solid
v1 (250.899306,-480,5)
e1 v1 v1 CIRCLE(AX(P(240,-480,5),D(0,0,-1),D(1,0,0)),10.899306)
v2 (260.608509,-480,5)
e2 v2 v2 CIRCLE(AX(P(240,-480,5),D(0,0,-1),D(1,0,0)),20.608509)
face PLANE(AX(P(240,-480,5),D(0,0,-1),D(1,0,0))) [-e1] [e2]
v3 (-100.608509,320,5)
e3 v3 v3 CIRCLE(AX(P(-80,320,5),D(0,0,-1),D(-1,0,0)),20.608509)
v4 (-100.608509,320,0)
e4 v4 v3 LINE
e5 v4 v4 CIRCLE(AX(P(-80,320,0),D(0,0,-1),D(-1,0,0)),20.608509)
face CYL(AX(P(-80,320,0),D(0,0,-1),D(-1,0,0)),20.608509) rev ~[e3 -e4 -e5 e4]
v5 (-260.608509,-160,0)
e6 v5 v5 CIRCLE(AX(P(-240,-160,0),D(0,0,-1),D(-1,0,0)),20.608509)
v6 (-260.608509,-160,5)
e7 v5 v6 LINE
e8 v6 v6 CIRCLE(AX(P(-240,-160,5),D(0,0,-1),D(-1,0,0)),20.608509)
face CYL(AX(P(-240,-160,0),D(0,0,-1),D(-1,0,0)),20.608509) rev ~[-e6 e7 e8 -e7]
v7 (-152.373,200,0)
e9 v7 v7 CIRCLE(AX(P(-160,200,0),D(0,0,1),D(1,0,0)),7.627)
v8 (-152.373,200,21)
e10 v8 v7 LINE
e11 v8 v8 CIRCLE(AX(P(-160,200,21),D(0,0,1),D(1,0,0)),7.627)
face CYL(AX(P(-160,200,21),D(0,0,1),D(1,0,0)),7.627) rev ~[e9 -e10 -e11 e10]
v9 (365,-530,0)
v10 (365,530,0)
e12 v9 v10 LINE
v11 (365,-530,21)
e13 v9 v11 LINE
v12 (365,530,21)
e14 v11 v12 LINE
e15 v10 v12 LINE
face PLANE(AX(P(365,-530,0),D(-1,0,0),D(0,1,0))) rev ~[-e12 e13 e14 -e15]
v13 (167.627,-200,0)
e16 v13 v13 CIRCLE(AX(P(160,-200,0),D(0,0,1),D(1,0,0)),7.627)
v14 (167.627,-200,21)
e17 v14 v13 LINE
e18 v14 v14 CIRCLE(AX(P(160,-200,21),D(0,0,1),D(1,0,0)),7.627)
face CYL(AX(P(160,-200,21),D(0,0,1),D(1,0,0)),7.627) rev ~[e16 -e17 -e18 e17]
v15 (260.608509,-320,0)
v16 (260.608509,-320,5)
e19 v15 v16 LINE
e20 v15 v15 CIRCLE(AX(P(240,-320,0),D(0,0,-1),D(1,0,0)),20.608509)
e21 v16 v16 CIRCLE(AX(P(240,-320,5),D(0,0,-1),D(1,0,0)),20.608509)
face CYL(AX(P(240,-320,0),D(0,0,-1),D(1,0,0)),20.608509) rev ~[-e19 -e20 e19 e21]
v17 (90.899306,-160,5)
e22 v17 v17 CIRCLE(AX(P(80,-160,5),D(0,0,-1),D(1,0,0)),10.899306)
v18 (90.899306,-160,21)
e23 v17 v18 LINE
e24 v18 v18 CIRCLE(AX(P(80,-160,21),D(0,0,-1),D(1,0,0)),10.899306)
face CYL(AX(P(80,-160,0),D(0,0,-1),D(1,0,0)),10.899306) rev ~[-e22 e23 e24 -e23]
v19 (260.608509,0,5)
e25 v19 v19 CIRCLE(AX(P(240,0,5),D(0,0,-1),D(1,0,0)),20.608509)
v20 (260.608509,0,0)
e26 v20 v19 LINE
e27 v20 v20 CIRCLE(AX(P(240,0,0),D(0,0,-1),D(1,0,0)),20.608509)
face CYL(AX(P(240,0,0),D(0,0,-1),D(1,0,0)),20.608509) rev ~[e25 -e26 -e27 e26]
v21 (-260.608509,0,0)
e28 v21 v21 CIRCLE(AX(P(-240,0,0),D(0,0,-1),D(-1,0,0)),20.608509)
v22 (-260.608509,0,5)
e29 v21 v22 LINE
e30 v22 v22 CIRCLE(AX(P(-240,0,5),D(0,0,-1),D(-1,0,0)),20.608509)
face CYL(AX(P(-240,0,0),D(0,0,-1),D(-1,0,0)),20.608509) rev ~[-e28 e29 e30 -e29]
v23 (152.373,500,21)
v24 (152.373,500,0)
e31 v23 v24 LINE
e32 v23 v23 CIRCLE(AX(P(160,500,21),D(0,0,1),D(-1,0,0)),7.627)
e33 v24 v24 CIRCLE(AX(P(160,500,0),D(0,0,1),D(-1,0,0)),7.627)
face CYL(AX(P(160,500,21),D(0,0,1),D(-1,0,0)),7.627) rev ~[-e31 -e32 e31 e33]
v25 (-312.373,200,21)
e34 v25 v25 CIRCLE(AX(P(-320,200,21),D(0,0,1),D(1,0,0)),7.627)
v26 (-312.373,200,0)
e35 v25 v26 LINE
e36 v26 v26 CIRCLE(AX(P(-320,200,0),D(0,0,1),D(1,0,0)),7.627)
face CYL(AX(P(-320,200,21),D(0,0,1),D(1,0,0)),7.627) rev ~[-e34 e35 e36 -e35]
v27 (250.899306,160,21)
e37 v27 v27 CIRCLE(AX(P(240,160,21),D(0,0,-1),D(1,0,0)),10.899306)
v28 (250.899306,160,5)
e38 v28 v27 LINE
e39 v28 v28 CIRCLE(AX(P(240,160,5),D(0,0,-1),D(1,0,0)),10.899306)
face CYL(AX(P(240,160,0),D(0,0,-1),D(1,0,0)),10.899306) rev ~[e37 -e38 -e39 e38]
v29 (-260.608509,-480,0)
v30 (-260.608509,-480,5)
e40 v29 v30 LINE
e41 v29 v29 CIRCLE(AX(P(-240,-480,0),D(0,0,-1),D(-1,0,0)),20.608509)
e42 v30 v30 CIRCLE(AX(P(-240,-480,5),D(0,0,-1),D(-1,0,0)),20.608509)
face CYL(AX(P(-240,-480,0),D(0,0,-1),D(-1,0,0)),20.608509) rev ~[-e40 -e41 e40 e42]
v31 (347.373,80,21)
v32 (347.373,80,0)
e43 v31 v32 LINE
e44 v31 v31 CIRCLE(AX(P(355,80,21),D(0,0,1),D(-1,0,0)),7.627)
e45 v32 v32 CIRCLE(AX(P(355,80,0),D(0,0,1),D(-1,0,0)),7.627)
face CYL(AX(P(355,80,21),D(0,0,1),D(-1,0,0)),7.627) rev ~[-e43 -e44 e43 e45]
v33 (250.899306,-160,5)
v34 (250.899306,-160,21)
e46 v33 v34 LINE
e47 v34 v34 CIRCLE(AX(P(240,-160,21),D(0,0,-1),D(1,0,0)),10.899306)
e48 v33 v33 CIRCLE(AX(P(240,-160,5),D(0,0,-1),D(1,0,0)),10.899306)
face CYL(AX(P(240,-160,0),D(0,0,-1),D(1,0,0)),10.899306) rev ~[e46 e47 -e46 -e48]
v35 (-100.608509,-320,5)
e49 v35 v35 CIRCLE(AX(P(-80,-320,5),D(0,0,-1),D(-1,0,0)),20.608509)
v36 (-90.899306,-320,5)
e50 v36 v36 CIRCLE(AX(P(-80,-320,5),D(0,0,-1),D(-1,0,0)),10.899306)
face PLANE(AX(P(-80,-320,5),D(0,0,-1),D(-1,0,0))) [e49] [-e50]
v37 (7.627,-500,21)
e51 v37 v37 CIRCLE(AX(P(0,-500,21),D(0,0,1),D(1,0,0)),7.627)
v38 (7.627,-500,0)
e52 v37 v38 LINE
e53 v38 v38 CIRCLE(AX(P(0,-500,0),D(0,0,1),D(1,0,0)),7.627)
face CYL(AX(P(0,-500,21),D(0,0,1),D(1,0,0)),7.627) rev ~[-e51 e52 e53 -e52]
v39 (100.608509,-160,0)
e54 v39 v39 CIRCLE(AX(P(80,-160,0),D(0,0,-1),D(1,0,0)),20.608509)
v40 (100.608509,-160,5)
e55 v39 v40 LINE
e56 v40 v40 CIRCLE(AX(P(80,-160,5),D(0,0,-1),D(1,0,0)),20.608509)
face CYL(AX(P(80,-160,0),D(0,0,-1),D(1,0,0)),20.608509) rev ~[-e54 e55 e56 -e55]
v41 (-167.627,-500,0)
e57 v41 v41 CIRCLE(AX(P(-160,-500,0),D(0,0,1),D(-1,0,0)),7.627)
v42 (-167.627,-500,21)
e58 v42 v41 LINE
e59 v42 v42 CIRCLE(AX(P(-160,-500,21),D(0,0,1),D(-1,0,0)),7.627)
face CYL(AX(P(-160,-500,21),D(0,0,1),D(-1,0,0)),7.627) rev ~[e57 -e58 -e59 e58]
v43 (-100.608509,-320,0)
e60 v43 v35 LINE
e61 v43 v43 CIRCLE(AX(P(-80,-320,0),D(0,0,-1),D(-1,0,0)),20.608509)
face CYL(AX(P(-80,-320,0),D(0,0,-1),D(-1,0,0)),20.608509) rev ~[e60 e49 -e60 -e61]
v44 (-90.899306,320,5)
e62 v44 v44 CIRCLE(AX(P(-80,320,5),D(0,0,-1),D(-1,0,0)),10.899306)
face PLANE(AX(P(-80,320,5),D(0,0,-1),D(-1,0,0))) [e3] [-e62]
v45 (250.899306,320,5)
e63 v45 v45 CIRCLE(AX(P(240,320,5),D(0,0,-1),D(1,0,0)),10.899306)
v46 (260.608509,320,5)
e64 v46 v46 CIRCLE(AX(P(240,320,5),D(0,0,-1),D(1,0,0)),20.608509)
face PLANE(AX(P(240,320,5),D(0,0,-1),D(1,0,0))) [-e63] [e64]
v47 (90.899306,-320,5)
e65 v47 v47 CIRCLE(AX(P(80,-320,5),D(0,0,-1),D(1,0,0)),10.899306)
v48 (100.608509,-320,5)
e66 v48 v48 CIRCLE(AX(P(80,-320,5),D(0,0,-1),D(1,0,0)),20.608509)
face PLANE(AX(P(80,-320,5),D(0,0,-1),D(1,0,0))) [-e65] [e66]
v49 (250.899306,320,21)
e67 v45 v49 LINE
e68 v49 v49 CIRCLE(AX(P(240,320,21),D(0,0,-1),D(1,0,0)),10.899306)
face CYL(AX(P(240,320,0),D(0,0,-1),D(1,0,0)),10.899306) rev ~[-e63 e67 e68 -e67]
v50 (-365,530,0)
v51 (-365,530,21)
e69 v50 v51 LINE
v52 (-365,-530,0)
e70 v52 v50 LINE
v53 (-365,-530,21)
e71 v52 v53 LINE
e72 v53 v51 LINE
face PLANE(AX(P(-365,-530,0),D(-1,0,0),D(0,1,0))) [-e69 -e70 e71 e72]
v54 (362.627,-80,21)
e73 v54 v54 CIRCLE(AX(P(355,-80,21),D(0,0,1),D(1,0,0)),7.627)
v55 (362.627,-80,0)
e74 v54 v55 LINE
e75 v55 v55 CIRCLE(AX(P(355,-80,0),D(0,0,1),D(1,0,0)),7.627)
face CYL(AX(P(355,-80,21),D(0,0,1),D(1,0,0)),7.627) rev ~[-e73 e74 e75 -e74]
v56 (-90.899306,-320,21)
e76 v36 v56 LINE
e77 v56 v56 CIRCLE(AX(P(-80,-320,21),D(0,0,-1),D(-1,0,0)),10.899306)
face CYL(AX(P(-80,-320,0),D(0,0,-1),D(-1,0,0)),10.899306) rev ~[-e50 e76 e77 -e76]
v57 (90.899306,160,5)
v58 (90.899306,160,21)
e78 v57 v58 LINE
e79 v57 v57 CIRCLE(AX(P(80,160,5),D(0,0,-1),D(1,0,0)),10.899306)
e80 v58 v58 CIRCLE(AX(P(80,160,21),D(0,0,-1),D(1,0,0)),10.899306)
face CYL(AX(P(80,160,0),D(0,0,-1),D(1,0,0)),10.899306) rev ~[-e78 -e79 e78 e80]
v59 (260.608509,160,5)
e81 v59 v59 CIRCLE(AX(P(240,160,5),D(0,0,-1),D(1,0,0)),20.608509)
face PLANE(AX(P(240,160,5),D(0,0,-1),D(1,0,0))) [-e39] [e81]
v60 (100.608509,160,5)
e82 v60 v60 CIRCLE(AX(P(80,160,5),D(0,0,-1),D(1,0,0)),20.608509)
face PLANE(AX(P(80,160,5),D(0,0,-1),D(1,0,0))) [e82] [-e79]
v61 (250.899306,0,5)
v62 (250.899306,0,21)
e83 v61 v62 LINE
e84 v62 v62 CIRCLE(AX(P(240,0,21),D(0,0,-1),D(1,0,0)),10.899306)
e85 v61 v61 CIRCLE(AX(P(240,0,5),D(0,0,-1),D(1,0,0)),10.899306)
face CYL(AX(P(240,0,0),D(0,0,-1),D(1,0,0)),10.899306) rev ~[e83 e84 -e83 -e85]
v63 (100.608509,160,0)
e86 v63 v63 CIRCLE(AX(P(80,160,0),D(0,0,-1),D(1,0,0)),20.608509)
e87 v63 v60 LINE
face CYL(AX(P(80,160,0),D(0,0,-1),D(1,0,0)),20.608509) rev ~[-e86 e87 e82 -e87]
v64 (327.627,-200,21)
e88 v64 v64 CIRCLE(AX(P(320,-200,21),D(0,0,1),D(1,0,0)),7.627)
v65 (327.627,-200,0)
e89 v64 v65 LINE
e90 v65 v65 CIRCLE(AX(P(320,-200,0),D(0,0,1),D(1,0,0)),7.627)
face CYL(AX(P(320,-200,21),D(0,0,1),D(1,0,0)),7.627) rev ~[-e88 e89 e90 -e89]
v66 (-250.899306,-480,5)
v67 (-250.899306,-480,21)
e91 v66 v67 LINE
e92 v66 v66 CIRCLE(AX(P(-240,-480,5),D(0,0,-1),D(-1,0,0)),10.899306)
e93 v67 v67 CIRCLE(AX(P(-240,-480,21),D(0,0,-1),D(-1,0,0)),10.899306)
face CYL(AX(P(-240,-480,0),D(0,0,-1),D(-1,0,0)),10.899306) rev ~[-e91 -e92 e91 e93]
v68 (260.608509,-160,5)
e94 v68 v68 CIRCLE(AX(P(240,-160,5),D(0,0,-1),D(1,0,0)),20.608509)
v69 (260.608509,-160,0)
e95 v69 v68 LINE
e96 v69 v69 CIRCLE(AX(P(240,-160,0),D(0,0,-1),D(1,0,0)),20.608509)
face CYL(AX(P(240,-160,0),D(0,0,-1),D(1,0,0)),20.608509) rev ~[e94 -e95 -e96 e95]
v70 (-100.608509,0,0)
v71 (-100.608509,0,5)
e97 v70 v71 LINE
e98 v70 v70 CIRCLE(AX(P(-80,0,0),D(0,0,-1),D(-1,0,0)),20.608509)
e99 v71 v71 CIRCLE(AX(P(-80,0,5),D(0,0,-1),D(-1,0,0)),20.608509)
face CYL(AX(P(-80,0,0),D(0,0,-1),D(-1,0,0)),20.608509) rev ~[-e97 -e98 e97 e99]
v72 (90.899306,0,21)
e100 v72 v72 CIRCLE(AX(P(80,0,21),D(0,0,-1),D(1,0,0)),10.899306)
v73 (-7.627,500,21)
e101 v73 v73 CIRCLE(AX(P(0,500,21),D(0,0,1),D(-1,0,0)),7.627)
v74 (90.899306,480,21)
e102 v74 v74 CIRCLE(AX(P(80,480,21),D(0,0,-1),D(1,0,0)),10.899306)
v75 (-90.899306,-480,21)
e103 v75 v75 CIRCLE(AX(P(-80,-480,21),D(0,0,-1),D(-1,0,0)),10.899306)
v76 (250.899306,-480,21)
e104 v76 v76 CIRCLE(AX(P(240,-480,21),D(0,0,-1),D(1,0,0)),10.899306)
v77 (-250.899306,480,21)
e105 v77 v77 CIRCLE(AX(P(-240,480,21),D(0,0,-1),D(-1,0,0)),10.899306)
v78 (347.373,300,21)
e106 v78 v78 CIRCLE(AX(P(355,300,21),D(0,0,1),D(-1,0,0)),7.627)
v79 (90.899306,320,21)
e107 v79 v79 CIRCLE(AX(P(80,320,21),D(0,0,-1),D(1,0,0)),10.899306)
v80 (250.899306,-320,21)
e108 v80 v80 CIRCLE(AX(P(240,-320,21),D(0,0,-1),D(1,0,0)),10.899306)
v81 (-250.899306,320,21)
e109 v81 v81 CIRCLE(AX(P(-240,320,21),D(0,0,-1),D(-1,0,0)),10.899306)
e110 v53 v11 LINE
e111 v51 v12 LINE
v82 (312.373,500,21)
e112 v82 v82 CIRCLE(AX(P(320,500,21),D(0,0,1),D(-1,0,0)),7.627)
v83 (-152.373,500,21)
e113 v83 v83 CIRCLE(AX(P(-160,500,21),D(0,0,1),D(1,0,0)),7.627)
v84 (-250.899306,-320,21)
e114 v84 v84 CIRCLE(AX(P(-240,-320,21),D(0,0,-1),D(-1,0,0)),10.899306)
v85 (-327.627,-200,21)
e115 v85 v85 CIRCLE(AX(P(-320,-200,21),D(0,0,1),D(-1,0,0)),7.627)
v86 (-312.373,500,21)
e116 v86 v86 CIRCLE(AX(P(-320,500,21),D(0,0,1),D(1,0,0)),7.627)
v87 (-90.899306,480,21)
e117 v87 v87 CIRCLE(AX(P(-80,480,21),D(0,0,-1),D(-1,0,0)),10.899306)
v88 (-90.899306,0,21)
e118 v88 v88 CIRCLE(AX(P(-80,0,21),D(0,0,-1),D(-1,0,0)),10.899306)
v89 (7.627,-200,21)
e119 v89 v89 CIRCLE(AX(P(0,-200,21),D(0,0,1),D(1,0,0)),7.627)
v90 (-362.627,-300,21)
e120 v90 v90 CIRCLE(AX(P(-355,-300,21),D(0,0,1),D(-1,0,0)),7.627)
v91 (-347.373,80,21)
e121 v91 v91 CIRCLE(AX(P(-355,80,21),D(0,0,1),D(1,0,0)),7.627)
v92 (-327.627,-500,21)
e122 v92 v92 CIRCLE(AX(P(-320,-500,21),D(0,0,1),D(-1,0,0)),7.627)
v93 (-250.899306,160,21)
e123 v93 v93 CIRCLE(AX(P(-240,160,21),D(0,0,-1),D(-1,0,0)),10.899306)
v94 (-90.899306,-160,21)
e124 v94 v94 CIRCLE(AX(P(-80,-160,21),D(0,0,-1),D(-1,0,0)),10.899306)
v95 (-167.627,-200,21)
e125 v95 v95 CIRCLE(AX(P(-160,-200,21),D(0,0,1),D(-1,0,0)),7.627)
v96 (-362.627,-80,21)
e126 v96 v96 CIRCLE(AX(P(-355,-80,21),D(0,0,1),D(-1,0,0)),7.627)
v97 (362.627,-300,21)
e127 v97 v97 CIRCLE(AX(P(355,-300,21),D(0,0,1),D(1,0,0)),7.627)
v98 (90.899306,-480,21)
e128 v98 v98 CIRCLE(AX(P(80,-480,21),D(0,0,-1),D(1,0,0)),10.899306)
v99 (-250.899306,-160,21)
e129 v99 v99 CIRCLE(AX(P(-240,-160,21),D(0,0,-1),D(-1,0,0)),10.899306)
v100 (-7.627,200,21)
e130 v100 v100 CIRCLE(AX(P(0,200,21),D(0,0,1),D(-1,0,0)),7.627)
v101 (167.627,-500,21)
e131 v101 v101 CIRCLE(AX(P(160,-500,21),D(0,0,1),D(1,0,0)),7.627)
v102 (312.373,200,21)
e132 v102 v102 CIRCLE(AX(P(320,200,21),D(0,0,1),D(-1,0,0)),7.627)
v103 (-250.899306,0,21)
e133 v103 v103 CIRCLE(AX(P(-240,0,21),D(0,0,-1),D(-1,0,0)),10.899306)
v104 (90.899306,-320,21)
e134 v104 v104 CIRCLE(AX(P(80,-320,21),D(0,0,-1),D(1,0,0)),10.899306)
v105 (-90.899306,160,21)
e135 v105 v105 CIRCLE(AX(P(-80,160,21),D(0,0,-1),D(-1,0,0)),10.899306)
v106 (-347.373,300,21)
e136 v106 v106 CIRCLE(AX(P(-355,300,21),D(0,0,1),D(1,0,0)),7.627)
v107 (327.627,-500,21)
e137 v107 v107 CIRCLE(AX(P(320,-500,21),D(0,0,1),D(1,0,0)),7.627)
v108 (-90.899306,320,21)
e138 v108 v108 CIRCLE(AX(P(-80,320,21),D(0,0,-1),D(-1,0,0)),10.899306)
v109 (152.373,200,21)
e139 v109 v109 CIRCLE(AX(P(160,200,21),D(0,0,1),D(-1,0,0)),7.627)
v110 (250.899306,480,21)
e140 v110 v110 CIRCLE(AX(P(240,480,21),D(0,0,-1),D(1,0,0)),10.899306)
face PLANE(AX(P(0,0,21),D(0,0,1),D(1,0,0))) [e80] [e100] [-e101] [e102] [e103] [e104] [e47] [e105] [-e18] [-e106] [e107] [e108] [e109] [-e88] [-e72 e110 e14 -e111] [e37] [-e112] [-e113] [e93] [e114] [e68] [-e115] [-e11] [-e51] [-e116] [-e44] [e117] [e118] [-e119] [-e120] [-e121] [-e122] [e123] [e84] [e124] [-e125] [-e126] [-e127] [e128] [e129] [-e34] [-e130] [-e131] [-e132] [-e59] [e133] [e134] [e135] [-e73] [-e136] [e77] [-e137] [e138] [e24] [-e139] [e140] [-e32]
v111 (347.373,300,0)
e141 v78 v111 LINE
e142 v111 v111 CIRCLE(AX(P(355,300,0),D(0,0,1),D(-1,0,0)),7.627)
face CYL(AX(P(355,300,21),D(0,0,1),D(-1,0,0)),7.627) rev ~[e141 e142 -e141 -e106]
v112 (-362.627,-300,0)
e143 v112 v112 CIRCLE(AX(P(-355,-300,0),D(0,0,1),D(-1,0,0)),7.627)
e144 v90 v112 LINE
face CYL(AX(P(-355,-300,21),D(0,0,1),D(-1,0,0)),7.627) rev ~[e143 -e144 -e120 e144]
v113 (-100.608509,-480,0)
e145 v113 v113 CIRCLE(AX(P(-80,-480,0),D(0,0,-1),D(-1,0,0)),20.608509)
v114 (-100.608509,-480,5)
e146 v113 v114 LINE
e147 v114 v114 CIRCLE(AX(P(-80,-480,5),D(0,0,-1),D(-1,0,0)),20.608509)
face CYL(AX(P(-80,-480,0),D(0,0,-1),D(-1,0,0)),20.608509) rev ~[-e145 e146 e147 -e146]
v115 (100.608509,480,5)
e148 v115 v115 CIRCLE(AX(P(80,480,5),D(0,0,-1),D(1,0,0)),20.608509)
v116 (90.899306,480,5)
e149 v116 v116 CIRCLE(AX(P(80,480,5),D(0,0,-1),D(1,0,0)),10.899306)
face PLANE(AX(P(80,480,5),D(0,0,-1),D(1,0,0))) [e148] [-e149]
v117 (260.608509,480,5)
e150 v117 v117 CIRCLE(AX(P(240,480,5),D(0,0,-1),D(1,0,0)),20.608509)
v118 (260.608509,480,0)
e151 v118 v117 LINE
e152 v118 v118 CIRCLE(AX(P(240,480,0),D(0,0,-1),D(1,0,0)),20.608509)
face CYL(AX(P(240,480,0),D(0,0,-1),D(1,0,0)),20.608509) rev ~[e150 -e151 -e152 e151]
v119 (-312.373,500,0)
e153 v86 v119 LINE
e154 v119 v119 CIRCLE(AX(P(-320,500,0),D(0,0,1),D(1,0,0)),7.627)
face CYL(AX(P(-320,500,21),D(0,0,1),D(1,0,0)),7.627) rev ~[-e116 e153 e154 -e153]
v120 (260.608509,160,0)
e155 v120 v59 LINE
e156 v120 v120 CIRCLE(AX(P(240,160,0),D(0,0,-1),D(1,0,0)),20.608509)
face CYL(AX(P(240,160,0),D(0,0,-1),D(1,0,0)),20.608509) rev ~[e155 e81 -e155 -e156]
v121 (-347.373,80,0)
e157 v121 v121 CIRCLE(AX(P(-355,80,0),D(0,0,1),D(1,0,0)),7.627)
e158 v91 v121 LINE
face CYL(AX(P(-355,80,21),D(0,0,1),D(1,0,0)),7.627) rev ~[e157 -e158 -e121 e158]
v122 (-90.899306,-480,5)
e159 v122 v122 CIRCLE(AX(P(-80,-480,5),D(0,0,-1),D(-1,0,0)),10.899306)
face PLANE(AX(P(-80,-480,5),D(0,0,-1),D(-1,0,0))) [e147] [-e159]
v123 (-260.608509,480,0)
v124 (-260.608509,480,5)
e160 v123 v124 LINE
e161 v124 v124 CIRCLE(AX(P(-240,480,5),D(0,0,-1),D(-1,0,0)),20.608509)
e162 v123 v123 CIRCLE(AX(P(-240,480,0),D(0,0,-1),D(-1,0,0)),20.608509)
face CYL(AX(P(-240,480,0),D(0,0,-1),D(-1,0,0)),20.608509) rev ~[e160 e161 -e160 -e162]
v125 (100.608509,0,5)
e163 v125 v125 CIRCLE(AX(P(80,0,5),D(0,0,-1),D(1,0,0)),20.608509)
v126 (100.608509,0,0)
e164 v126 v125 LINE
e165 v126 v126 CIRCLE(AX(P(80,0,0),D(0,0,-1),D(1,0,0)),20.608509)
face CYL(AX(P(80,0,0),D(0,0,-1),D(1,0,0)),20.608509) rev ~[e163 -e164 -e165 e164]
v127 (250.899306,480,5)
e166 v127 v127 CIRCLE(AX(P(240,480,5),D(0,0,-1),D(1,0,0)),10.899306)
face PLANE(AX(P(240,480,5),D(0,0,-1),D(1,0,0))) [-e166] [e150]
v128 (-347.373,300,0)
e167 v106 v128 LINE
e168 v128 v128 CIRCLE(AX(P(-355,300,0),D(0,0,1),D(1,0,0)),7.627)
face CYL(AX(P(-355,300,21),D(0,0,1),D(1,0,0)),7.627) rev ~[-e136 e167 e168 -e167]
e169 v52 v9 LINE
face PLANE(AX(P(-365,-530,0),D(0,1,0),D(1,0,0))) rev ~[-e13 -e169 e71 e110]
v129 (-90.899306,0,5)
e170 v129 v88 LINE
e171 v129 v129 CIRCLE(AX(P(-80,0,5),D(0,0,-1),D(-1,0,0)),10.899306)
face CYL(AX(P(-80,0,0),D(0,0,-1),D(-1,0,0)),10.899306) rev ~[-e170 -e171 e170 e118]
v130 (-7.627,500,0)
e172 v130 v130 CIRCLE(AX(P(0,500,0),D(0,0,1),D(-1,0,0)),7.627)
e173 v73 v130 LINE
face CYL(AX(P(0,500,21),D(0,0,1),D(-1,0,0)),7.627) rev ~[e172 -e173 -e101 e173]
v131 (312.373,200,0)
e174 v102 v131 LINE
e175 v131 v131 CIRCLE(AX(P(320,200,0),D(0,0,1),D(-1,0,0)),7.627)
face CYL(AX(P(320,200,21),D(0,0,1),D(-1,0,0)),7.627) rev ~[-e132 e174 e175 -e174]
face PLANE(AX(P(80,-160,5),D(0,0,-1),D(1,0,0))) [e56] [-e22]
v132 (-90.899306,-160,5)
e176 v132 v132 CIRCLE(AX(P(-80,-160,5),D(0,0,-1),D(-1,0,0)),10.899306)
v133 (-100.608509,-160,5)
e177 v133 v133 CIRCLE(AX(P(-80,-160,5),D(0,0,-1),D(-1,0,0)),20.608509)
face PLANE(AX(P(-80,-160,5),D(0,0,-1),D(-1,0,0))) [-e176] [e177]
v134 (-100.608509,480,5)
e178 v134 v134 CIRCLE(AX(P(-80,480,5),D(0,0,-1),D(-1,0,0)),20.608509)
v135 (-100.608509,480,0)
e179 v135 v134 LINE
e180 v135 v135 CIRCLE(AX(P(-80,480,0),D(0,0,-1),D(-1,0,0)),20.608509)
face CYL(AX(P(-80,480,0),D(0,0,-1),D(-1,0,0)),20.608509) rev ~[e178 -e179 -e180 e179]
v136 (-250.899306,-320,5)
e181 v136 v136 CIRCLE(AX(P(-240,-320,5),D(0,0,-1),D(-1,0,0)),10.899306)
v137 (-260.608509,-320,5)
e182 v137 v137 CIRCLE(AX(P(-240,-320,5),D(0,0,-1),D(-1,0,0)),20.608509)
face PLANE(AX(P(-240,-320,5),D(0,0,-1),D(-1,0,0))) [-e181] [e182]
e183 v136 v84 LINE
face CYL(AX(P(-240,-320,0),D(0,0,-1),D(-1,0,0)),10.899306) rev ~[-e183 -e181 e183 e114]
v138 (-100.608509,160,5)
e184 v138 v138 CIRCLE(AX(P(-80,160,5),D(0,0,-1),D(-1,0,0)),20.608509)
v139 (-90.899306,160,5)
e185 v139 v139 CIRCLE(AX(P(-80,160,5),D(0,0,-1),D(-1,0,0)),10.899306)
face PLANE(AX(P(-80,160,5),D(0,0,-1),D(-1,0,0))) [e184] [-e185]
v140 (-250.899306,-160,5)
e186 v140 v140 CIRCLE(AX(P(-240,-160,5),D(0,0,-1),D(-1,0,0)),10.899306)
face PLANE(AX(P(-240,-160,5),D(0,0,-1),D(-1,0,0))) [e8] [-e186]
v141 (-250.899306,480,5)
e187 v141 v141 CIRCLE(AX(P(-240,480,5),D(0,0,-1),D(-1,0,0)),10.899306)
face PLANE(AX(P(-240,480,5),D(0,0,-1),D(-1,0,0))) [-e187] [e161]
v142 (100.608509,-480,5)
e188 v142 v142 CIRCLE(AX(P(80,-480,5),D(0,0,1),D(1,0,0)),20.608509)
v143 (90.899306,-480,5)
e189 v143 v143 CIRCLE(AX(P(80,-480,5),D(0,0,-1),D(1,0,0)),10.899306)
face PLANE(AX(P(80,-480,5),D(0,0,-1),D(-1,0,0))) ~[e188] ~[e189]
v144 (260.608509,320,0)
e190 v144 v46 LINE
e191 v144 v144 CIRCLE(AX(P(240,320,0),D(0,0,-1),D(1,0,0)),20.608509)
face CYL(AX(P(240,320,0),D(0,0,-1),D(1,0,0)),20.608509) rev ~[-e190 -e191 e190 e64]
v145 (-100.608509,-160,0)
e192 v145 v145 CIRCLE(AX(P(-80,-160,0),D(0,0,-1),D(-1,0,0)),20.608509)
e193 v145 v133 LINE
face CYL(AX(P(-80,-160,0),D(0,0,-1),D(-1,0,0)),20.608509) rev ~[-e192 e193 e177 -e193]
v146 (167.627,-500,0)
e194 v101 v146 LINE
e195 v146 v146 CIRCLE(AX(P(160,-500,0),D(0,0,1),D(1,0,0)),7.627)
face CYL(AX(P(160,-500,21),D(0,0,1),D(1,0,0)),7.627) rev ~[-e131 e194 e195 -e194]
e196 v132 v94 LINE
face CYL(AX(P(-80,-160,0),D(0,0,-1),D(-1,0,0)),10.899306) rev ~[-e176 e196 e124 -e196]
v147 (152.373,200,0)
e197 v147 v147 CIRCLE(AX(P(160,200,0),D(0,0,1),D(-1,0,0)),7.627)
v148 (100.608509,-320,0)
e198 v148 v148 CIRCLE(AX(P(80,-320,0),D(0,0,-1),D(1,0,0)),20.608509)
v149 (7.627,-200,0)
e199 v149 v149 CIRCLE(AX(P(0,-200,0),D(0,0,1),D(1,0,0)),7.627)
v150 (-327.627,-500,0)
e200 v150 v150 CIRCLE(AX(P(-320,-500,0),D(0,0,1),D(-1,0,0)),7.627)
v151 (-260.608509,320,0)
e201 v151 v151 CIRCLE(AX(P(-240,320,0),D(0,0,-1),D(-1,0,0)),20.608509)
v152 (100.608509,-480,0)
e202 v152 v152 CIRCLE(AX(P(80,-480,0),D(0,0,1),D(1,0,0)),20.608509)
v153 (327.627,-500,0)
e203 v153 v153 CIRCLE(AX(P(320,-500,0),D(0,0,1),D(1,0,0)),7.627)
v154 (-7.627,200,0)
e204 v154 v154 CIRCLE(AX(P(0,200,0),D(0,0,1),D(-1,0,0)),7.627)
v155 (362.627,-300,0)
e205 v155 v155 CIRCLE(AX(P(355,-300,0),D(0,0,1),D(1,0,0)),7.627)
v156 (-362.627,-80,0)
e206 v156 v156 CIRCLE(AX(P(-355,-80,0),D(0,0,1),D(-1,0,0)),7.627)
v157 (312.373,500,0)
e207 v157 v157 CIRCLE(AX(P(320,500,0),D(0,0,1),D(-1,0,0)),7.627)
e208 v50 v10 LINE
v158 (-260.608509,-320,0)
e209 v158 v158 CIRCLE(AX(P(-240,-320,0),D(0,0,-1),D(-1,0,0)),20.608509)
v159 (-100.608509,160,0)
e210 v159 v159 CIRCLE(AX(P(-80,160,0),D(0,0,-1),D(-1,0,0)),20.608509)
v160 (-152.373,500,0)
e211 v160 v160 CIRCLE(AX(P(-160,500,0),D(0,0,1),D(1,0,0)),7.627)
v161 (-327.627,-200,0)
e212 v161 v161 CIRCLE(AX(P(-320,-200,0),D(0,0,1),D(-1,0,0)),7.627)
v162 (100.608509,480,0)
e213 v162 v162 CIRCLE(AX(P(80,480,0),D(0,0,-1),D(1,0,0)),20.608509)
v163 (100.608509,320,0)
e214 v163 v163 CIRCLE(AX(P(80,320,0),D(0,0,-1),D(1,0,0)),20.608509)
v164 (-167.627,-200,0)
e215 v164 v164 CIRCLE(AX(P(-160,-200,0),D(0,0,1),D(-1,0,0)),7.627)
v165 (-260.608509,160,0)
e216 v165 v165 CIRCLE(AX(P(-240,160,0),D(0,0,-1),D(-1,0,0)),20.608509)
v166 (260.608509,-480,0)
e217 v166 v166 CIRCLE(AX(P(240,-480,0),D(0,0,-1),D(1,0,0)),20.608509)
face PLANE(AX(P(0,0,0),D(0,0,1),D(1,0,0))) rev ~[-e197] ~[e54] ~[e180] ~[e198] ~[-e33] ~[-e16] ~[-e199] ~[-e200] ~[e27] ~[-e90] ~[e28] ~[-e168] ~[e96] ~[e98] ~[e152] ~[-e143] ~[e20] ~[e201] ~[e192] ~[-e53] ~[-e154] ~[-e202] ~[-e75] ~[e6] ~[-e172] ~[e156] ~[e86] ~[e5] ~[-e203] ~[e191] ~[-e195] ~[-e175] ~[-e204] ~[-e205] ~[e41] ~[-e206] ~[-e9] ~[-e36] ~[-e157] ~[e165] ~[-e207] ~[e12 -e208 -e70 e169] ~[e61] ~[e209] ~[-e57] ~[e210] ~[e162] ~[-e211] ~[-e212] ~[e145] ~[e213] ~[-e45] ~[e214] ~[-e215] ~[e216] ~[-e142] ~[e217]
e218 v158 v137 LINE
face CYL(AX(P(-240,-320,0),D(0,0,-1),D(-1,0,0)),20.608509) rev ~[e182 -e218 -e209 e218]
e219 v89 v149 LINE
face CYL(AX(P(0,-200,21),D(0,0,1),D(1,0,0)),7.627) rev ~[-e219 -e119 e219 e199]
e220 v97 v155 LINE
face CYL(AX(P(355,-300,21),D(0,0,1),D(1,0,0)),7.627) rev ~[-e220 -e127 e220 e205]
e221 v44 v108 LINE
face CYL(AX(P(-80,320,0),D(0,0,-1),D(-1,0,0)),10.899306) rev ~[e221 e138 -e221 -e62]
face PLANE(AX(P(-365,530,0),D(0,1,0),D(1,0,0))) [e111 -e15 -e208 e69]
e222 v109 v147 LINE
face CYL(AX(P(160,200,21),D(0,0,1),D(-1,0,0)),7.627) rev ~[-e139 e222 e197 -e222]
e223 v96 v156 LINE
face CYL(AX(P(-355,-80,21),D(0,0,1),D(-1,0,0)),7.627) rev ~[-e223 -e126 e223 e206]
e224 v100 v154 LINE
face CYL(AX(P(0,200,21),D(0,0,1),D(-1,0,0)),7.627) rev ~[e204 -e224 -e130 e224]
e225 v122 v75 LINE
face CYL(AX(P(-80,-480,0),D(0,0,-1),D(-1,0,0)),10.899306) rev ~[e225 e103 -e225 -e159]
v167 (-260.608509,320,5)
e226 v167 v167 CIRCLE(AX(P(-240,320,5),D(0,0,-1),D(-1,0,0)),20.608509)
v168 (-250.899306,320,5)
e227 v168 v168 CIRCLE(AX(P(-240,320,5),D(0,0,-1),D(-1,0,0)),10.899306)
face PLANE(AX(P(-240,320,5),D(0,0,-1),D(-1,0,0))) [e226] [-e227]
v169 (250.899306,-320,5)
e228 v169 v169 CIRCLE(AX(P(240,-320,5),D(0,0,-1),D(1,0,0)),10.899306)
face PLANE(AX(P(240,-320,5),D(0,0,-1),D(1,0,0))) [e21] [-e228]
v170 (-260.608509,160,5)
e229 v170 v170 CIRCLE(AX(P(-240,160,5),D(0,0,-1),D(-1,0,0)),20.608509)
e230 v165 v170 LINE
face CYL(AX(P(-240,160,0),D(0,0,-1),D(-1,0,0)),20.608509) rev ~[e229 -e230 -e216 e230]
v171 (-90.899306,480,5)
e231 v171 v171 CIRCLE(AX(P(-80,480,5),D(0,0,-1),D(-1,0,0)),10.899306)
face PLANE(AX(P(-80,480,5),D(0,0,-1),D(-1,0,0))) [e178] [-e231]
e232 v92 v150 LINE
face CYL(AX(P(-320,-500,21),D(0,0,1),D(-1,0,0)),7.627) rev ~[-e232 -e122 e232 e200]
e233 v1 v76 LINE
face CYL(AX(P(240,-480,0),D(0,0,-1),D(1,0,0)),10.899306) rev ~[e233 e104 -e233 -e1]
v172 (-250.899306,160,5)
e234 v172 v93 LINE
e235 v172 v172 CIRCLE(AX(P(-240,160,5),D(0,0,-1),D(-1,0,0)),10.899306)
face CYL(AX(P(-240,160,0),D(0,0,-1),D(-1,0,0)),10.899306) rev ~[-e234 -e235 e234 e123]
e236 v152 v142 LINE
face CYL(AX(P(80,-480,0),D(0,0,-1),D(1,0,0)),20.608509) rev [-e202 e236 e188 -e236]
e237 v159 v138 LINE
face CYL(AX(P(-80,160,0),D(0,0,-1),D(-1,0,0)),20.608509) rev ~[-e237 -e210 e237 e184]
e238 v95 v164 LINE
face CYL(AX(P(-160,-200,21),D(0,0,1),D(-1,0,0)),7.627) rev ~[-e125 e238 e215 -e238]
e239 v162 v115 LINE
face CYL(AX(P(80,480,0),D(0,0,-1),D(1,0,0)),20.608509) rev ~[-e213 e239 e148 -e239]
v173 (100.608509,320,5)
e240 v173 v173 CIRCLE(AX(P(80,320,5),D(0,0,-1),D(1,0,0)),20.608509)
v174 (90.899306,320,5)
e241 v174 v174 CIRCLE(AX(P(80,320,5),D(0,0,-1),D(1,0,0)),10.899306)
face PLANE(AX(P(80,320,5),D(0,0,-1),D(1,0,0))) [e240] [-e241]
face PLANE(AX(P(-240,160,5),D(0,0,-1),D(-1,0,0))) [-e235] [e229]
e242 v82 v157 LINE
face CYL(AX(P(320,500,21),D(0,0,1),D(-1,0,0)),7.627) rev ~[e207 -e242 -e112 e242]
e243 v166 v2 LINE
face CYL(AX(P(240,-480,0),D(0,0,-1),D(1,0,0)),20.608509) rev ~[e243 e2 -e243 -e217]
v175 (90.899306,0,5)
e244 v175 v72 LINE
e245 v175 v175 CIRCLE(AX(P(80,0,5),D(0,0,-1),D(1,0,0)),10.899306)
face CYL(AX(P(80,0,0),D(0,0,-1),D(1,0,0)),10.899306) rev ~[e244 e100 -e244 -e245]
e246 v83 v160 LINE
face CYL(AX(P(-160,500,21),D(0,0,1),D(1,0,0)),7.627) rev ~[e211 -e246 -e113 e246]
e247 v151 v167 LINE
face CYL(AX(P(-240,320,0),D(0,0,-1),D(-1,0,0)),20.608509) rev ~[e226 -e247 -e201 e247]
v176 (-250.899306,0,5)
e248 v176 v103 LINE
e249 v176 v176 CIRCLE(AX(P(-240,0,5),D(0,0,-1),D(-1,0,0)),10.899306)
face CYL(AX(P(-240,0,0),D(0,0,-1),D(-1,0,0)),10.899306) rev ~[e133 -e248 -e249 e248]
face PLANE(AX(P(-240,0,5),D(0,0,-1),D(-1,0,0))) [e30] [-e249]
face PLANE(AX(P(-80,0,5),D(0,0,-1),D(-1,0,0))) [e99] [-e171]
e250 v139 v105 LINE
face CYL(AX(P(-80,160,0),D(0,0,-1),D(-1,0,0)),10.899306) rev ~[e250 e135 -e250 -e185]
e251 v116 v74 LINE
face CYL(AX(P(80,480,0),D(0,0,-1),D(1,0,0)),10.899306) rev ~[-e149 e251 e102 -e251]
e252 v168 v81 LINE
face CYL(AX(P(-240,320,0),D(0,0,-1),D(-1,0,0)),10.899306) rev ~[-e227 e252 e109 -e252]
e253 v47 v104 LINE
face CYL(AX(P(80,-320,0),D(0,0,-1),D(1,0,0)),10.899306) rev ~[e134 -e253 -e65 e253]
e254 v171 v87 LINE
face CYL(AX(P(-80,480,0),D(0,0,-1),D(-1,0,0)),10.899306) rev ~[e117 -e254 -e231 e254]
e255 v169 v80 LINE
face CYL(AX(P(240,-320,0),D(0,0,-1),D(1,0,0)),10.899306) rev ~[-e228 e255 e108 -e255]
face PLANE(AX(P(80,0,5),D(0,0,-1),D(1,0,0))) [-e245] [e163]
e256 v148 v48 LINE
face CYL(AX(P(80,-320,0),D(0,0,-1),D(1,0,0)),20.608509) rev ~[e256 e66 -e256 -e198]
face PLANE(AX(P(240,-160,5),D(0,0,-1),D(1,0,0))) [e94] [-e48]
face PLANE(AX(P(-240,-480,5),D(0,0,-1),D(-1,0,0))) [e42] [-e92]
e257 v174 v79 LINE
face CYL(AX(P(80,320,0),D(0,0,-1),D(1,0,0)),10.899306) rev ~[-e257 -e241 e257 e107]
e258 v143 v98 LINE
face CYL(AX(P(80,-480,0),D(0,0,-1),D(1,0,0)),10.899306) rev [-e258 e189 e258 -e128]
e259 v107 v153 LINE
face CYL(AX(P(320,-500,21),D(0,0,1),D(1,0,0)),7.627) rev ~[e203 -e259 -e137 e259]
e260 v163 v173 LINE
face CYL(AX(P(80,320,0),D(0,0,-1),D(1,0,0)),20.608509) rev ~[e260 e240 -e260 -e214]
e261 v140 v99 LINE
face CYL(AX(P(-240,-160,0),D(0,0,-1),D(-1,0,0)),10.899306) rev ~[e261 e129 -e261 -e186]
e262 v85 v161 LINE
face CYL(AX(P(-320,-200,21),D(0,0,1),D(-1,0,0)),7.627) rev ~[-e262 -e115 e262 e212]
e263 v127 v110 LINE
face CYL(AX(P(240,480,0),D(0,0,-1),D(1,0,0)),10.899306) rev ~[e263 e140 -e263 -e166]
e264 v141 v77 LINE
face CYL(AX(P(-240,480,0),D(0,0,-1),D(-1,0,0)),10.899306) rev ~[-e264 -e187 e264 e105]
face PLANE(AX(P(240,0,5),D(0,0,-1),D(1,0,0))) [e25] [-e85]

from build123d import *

# Parameters (mm, degrees)
SKIZZE1_W                       = 730
SKIZZE1_H                       = 1060
AUFSATZ_LINEAR_AUSTRAGEN1_DEPTH = 21
SKIZZE2_R                       = 10.899306226
SCHNITT_LINEAR_AUSTRAGEN1_DEPTH = 40
SKIZZE3_R                       = 20.608509003
SCHNITT_LINEAR_AUSTRAGEN2_DEPTH = 5
LINEARES_MUSTER1_COUNT          = 7
LINEARES_MUSTER1_PITCH          = 160
LINEARES_MUSTER1_COUNT_DIR2     = 2
LINEARES_MUSTER1_PITCH_DIR2     = 160
SPIEGELN1_COPY_1_SKETCH_R       = 10.899306226
SPIEGELN1_COPY_1_DEPTH          = 40
SPIEGELN1_COPY_2_SKETCH_R       = 10.899306226
SPIEGELN1_COPY_2_DEPTH          = 40
SPIEGELN1_COPY_3_SKETCH_R       = 10.899306226
SPIEGELN1_COPY_3_DEPTH          = 40
SPIEGELN1_COPY_4_SKETCH_R       = 10.899306226
SPIEGELN1_COPY_4_DEPTH          = 40
SPIEGELN1_COPY_5_SKETCH_R       = 10.899306226
SPIEGELN1_COPY_5_DEPTH          = 40
SPIEGELN1_COPY_6_SKETCH_R       = 10.899306226
SPIEGELN1_COPY_6_DEPTH          = 40
SPIEGELN1_COPY_7_SKETCH_R       = 10.899306226
SPIEGELN1_COPY_7_DEPTH          = 40
SPIEGELN1_COPY_8_SKETCH_R       = 10.899306226
SPIEGELN1_COPY_8_DEPTH          = 40
SPIEGELN1_COPY_9_SKETCH_R       = 10.899306226
SPIEGELN1_COPY_9_DEPTH          = 40
SPIEGELN1_COPY_10_SKETCH_R      = 10.899306226
SPIEGELN1_COPY_10_DEPTH         = 40
SPIEGELN1_COPY_11_SKETCH_R      = 10.899306226
SPIEGELN1_COPY_11_DEPTH         = 40
SPIEGELN1_COPY_12_SKETCH_R      = 10.899306226
SPIEGELN1_COPY_12_DEPTH         = 40
SPIEGELN1_COPY_13_SKETCH_R      = 10.899306226
SPIEGELN1_COPY_13_DEPTH         = 40
SPIEGELN1_COPY_14_SKETCH_R      = 20.608509003
SPIEGELN1_COPY_14_DEPTH         = 5
SPIEGELN1_COPY_15_SKETCH_R      = 20.608509003
SPIEGELN1_COPY_15_DEPTH         = 5
SPIEGELN1_COPY_16_SKETCH_R      = 20.608509003
SPIEGELN1_COPY_16_DEPTH         = 5
SPIEGELN1_COPY_17_SKETCH_R      = 20.608509003
SPIEGELN1_COPY_17_DEPTH         = 5
SPIEGELN1_COPY_18_SKETCH_R      = 20.608509003
SPIEGELN1_COPY_18_DEPTH         = 5
SPIEGELN1_COPY_19_SKETCH_R      = 20.608509003
SPIEGELN1_COPY_19_DEPTH         = 5
SPIEGELN1_COPY_20_SKETCH_R      = 20.608509003
SPIEGELN1_COPY_20_DEPTH         = 5
SPIEGELN1_COPY_21_SKETCH_R      = 20.608509003
SPIEGELN1_COPY_21_DEPTH         = 5
SPIEGELN1_COPY_22_SKETCH_R      = 20.608509003
SPIEGELN1_COPY_22_DEPTH         = 5
SPIEGELN1_COPY_23_SKETCH_R      = 20.608509003
SPIEGELN1_COPY_23_DEPTH         = 5
SPIEGELN1_COPY_24_SKETCH_R      = 20.608509003
SPIEGELN1_COPY_24_DEPTH         = 5
SPIEGELN1_COPY_25_SKETCH_R      = 20.608509003
SPIEGELN1_COPY_25_DEPTH         = 5
SPIEGELN1_COPY_26_SKETCH_R      = 20.608509003
SPIEGELN1_COPY_26_DEPTH         = 5
SKIZZE4_R                       = 7.627
SCHNITT_LINEAR_AUSTRAGEN3_DEPTH = 50


with BuildPart() as part:
    # Skizze1 → Aufsatz-Linear austragen1 (new body)
    with BuildSketch(Plane.XY):
        Rectangle(SKIZZE1_W, SKIZZE1_H)
    extrude(amount=AUFSATZ_LINEAR_AUSTRAGEN1_DEPTH)

    # Skizze2 → Schnitt-Linear austragen1 (cut)
    with BuildSketch(Plane(origin=(0, 0, 0), x_dir=(-1, 0, 0), z_dir=(0, 0, -1))):
        with Locations((80, -480)):
            Circle(SKIZZE2_R)
    schnitt_linear_austragen1 = extrude(amount=-SCHNITT_LINEAR_AUSTRAGEN1_DEPTH, mode=Mode.SUBTRACT)

    # Skizze3 → Schnitt-Linear austragen2 (cut)
    with BuildSketch(Plane(origin=(0, 0, 0), x_dir=(-1, 0, 0), z_dir=(0, 0, -1))):
        with Locations((80, -480)):
            Circle(SKIZZE3_R)
    schnitt_linear_austragen2 = extrude(amount=-SCHNITT_LINEAR_AUSTRAGEN2_DEPTH, mode=Mode.SUBTRACT)

    # Lineares Muster1: Schnitt-Linear austragen1, Schnitt-Linear austragen2 7 × 2
    with Locations(*[(-j * LINEARES_MUSTER1_PITCH_DIR2, i * LINEARES_MUSTER1_PITCH, 0) for i in range(LINEARES_MUSTER1_COUNT) for j in range(LINEARES_MUSTER1_COUNT_DIR2) if (i, j) != (0, 0)]):
        add(schnitt_linear_austragen1, mode=Mode.SUBTRACT)
        add(schnitt_linear_austragen2, mode=Mode.SUBTRACT)

    # Spiegeln1: Schnitt-Linear austragen1, Schnitt-Linear austragen2 across plane
    add(schnitt_linear_austragen1.mirror(Plane(origin=(0, 0, 0), x_dir=(0, 0, 1), z_dir=(1, 0, 0))), mode=Mode.SUBTRACT)
    add(schnitt_linear_austragen2.mirror(Plane(origin=(0, 0, 0), x_dir=(0, 0, 1), z_dir=(1, 0, 0))), mode=Mode.SUBTRACT)

    # Spiegeln1 copy 1 sketch → Spiegeln1 copy 1 (cut)
    with BuildSketch(Plane(origin=(160, 0, 0), x_dir=(1, 0, 0), z_dir=(0, 0, -1))):
        with Locations((80, 480)):
            Circle(SPIEGELN1_COPY_1_SKETCH_R)
    extrude(amount=-SPIEGELN1_COPY_1_DEPTH, mode=Mode.SUBTRACT)

    # Spiegeln1 copy 2 sketch → Spiegeln1 copy 2 (cut)
    with BuildSketch(Plane(origin=(0, 160, 0), x_dir=(1, 0, 0), z_dir=(0, 0, -1))):
        with Locations((80, 480)):
            Circle(SPIEGELN1_COPY_2_SKETCH_R)
    extrude(amount=-SPIEGELN1_COPY_2_DEPTH, mode=Mode.SUBTRACT)

    # Spiegeln1 copy 3 sketch → Spiegeln1 copy 3 (cut)
    with BuildSketch(Plane(origin=(160, 160, 0), x_dir=(1, 0, 0), z_dir=(0, 0, -1))):
        with Locations((80, 480)):
            Circle(SPIEGELN1_COPY_3_SKETCH_R)
    extrude(amount=-SPIEGELN1_COPY_3_DEPTH, mode=Mode.SUBTRACT)

    # Spiegeln1 copy 4 sketch → Spiegeln1 copy 4 (cut)
    with BuildSketch(Plane(origin=(0, 320, 0), x_dir=(1, 0, 0), z_dir=(0, 0, -1))):
        with Locations((80, 480)):
            Circle(SPIEGELN1_COPY_4_SKETCH_R)
    extrude(amount=-SPIEGELN1_COPY_4_DEPTH, mode=Mode.SUBTRACT)

    # Spiegeln1 copy 5 sketch → Spiegeln1 copy 5 (cut)
    with BuildSketch(Plane(origin=(160, 320, 0), x_dir=(1, 0, 0), z_dir=(0, 0, -1))):
        with Locations((80, 480)):
            Circle(SPIEGELN1_COPY_5_SKETCH_R)
    extrude(amount=-SPIEGELN1_COPY_5_DEPTH, mode=Mode.SUBTRACT)

    # Spiegeln1 copy 6 sketch → Spiegeln1 copy 6 (cut)
    with BuildSketch(Plane(origin=(0, 480, 0), x_dir=(1, 0, 0), z_dir=(0, 0, -1))):
        with Locations((80, 480)):
            Circle(SPIEGELN1_COPY_6_SKETCH_R)
    extrude(amount=-SPIEGELN1_COPY_6_DEPTH, mode=Mode.SUBTRACT)

    # Spiegeln1 copy 7 sketch → Spiegeln1 copy 7 (cut)
    with BuildSketch(Plane(origin=(160, 480, 0), x_dir=(1, 0, 0), z_dir=(0, 0, -1))):
        with Locations((80, 480)):
            Circle(SPIEGELN1_COPY_7_SKETCH_R)
    extrude(amount=-SPIEGELN1_COPY_7_DEPTH, mode=Mode.SUBTRACT)

    # Spiegeln1 copy 8 sketch → Spiegeln1 copy 8 (cut)
    with BuildSketch(Plane(origin=(0, 640, 0), x_dir=(1, 0, 0), z_dir=(0, 0, -1))):
        with Locations((80, 480)):
            Circle(SPIEGELN1_COPY_8_SKETCH_R)
    extrude(amount=-SPIEGELN1_COPY_8_DEPTH, mode=Mode.SUBTRACT)

    # Spiegeln1 copy 9 sketch → Spiegeln1 copy 9 (cut)
    with BuildSketch(Plane(origin=(160, 640, 0), x_dir=(1, 0, 0), z_dir=(0, 0, -1))):
        with Locations((80, 480)):
            Circle(SPIEGELN1_COPY_9_SKETCH_R)
    extrude(amount=-SPIEGELN1_COPY_9_DEPTH, mode=Mode.SUBTRACT)

    # Spiegeln1 copy 10 sketch → Spiegeln1 copy 10 (cut)
    with BuildSketch(Plane(origin=(0, 800, 0), x_dir=(1, 0, 0), z_dir=(0, 0, -1))):
        with Locations((80, 480)):
            Circle(SPIEGELN1_COPY_10_SKETCH_R)
    extrude(amount=-SPIEGELN1_COPY_10_DEPTH, mode=Mode.SUBTRACT)

    # Spiegeln1 copy 11 sketch → Spiegeln1 copy 11 (cut)
    with BuildSketch(Plane(origin=(160, 800, 0), x_dir=(1, 0, 0), z_dir=(0, 0, -1))):
        with Locations((80, 480)):
            Circle(SPIEGELN1_COPY_11_SKETCH_R)
    extrude(amount=-SPIEGELN1_COPY_11_DEPTH, mode=Mode.SUBTRACT)

    # Spiegeln1 copy 12 sketch → Spiegeln1 copy 12 (cut)
    with BuildSketch(Plane(origin=(0, 960, 0), x_dir=(1, 0, 0), z_dir=(0, 0, -1))):
        with Locations((80, 480)):
            Circle(SPIEGELN1_COPY_12_SKETCH_R)
    extrude(amount=-SPIEGELN1_COPY_12_DEPTH, mode=Mode.SUBTRACT)

    # Spiegeln1 copy 13 sketch → Spiegeln1 copy 13 (cut)
    with BuildSketch(Plane(origin=(160, 960, 0), x_dir=(1, 0, 0), z_dir=(0, 0, -1))):
        with Locations((80, 480)):
            Circle(SPIEGELN1_COPY_13_SKETCH_R)
    extrude(amount=-SPIEGELN1_COPY_13_DEPTH, mode=Mode.SUBTRACT)

    # Spiegeln1 copy 14 sketch → Spiegeln1 copy 14 (cut)
    with BuildSketch(Plane(origin=(160, 0, 0), x_dir=(1, 0, 0), z_dir=(0, 0, -1))):
        with Locations((80, 480)):
            Circle(SPIEGELN1_COPY_14_SKETCH_R)
    extrude(amount=-SPIEGELN1_COPY_14_DEPTH, mode=Mode.SUBTRACT)

    # Spiegeln1 copy 15 sketch → Spiegeln1 copy 15 (cut)
    with BuildSketch(Plane(origin=(0, 160, 0), x_dir=(1, 0, 0), z_dir=(0, 0, -1))):
        with Locations((80, 480)):
            Circle(SPIEGELN1_COPY_15_SKETCH_R)
    extrude(amount=-SPIEGELN1_COPY_15_DEPTH, mode=Mode.SUBTRACT)

    # Spiegeln1 copy 16 sketch → Spiegeln1 copy 16 (cut)
    with BuildSketch(Plane(origin=(160, 160, 0), x_dir=(1, 0, 0), z_dir=(0, 0, -1))):
        with Locations((80, 480)):
            Circle(SPIEGELN1_COPY_16_SKETCH_R)
    extrude(amount=-SPIEGELN1_COPY_16_DEPTH, mode=Mode.SUBTRACT)

    # Spiegeln1 copy 17 sketch → Spiegeln1 copy 17 (cut)
    with BuildSketch(Plane(origin=(0, 320, 0), x_dir=(1, 0, 0), z_dir=(0, 0, -1))):
        with Locations((80, 480)):
            Circle(SPIEGELN1_COPY_17_SKETCH_R)
    extrude(amount=-SPIEGELN1_COPY_17_DEPTH, mode=Mode.SUBTRACT)

    # Spiegeln1 copy 18 sketch → Spiegeln1 copy 18 (cut)
    with BuildSketch(Plane(origin=(160, 320, 0), x_dir=(1, 0, 0), z_dir=(0, 0, -1))):
        with Locations((80, 480)):
            Circle(SPIEGELN1_COPY_18_SKETCH_R)
    extrude(amount=-SPIEGELN1_COPY_18_DEPTH, mode=Mode.SUBTRACT)

    # Spiegeln1 copy 19 sketch → Spiegeln1 copy 19 (cut)
    with BuildSketch(Plane(origin=(0, 480, 0), x_dir=(1, 0, 0), z_dir=(0, 0, -1))):
        with Locations((80, 480)):
            Circle(SPIEGELN1_COPY_19_SKETCH_R)
    extrude(amount=-SPIEGELN1_COPY_19_DEPTH, mode=Mode.SUBTRACT)

    # Spiegeln1 copy 20 sketch → Spiegeln1 copy 20 (cut)
    with BuildSketch(Plane(origin=(160, 480, 0), x_dir=(1, 0, 0), z_dir=(0, 0, -1))):
        with Locations((80, 480)):
            Circle(SPIEGELN1_COPY_20_SKETCH_R)
    extrude(amount=-SPIEGELN1_COPY_20_DEPTH, mode=Mode.SUBTRACT)

    # Spiegeln1 copy 21 sketch → Spiegeln1 copy 21 (cut)
    with BuildSketch(Plane(origin=(0, 640, 0), x_dir=(1, 0, 0), z_dir=(0, 0, -1))):
        with Locations((80, 480)):
            Circle(SPIEGELN1_COPY_21_SKETCH_R)
    extrude(amount=-SPIEGELN1_COPY_21_DEPTH, mode=Mode.SUBTRACT)

    # Spiegeln1 copy 22 sketch → Spiegeln1 copy 22 (cut)
    with BuildSketch(Plane(origin=(160, 640, 0), x_dir=(1, 0, 0), z_dir=(0, 0, -1))):
        with Locations((80, 480)):
            Circle(SPIEGELN1_COPY_22_SKETCH_R)
    extrude(amount=-SPIEGELN1_COPY_22_DEPTH, mode=Mode.SUBTRACT)

    # Spiegeln1 copy 23 sketch → Spiegeln1 copy 23 (cut)
    with BuildSketch(Plane(origin=(0, 800, 0), x_dir=(1, 0, 0), z_dir=(0, 0, -1))):
        with Locations((80, 480)):
            Circle(SPIEGELN1_COPY_23_SKETCH_R)
    extrude(amount=-SPIEGELN1_COPY_23_DEPTH, mode=Mode.SUBTRACT)

    # Spiegeln1 copy 24 sketch → Spiegeln1 copy 24 (cut)
    with BuildSketch(Plane(origin=(160, 800, 0), x_dir=(1, 0, 0), z_dir=(0, 0, -1))):
        with Locations((80, 480)):
            Circle(SPIEGELN1_COPY_24_SKETCH_R)
    extrude(amount=-SPIEGELN1_COPY_24_DEPTH, mode=Mode.SUBTRACT)

    # Spiegeln1 copy 25 sketch → Spiegeln1 copy 25 (cut)
    with BuildSketch(Plane(origin=(0, 960, 0), x_dir=(1, 0, 0), z_dir=(0, 0, -1))):
        with Locations((80, 480)):
            Circle(SPIEGELN1_COPY_25_SKETCH_R)
    extrude(amount=-SPIEGELN1_COPY_25_DEPTH, mode=Mode.SUBTRACT)

    # Spiegeln1 copy 26 sketch → Spiegeln1 copy 26 (cut)
    with BuildSketch(Plane(origin=(160, 960, 0), x_dir=(1, 0, 0), z_dir=(0, 0, -1))):
        with Locations((80, 480)):
            Circle(SPIEGELN1_COPY_26_SKETCH_R)
    extrude(amount=-SPIEGELN1_COPY_26_DEPTH, mode=Mode.SUBTRACT)

    # Skizze4 → Schnitt-Linear austragen3 (cut)
    with BuildSketch(Plane.XY.offset(21)):
        with Locations((0, -500)):
            Circle(SKIZZE4_R)
        with Locations((160, -500)):
            Circle(SKIZZE4_R)
        with Locations((320, -500)):
            Circle(SKIZZE4_R)
        with Locations(Location((-160, -500, 0), (0, 0, 180))):
            Circle(SKIZZE4_R)
        with Locations(Location((-320, -500, 0), (0, 0, 180))):
            Circle(SKIZZE4_R)
        with Locations((355, -300)):
            Circle(SKIZZE4_R)
        with Locations((355, -80)):
            Circle(SKIZZE4_R)
        with Locations(Location((-355, -80, 0), (0, 0, 180))):
            Circle(SKIZZE4_R)
        with Locations(Location((-355, -300, 0), (0, 0, 180))):
            Circle(SKIZZE4_R)
        with Locations(Location((355, 80, 0), (0, 0, 180))):
            Circle(SKIZZE4_R)
        with Locations(Location((355, 300, 0), (0, 0, 180))):
            Circle(SKIZZE4_R)
        with Locations(Location((320, 500, 0), (0, 0, 180))):
            Circle(SKIZZE4_R)
        with Locations(Location((160, 500, 0), (0, 0, 180))):
            Circle(SKIZZE4_R)
        with Locations(Location((0, 500, 0), (0, 0, 180))):
            Circle(SKIZZE4_R)
        with Locations((-355, 300)):
            Circle(SKIZZE4_R)
        with Locations((-355, 80)):
            Circle(SKIZZE4_R)
        with Locations((-320, 500)):
            Circle(SKIZZE4_R)
        with Locations((-160, 500)):
            Circle(SKIZZE4_R)
        with Locations((160, -200)):
            Circle(SKIZZE4_R)
        with Locations((320, -200)):
            Circle(SKIZZE4_R)
        with Locations((0, -200)):
            Circle(SKIZZE4_R)
        with Locations(Location((-160, -200, 0), (0, 0, 180))):
            Circle(SKIZZE4_R)
        with Locations(Location((-320, -200, 0), (0, 0, 180))):
            Circle(SKIZZE4_R)
        with Locations(Location((320, 200, 0), (0, 0, 180))):
            Circle(SKIZZE4_R)
        with Locations(Location((160, 200, 0), (0, 0, 180))):
            Circle(SKIZZE4_R)
        with Locations(Location((0, 200, 0), (0, 0, 180))):
            Circle(SKIZZE4_R)
        with Locations((-160, 200)):
            Circle(SKIZZE4_R)
        with Locations((-320, 200)):
            Circle(SKIZZE4_R)
    extrude(amount=-SCHNITT_LINEAR_AUSTRAGEN3_DEPTH, mode=Mode.SUBTRACT)


solid = part.part
